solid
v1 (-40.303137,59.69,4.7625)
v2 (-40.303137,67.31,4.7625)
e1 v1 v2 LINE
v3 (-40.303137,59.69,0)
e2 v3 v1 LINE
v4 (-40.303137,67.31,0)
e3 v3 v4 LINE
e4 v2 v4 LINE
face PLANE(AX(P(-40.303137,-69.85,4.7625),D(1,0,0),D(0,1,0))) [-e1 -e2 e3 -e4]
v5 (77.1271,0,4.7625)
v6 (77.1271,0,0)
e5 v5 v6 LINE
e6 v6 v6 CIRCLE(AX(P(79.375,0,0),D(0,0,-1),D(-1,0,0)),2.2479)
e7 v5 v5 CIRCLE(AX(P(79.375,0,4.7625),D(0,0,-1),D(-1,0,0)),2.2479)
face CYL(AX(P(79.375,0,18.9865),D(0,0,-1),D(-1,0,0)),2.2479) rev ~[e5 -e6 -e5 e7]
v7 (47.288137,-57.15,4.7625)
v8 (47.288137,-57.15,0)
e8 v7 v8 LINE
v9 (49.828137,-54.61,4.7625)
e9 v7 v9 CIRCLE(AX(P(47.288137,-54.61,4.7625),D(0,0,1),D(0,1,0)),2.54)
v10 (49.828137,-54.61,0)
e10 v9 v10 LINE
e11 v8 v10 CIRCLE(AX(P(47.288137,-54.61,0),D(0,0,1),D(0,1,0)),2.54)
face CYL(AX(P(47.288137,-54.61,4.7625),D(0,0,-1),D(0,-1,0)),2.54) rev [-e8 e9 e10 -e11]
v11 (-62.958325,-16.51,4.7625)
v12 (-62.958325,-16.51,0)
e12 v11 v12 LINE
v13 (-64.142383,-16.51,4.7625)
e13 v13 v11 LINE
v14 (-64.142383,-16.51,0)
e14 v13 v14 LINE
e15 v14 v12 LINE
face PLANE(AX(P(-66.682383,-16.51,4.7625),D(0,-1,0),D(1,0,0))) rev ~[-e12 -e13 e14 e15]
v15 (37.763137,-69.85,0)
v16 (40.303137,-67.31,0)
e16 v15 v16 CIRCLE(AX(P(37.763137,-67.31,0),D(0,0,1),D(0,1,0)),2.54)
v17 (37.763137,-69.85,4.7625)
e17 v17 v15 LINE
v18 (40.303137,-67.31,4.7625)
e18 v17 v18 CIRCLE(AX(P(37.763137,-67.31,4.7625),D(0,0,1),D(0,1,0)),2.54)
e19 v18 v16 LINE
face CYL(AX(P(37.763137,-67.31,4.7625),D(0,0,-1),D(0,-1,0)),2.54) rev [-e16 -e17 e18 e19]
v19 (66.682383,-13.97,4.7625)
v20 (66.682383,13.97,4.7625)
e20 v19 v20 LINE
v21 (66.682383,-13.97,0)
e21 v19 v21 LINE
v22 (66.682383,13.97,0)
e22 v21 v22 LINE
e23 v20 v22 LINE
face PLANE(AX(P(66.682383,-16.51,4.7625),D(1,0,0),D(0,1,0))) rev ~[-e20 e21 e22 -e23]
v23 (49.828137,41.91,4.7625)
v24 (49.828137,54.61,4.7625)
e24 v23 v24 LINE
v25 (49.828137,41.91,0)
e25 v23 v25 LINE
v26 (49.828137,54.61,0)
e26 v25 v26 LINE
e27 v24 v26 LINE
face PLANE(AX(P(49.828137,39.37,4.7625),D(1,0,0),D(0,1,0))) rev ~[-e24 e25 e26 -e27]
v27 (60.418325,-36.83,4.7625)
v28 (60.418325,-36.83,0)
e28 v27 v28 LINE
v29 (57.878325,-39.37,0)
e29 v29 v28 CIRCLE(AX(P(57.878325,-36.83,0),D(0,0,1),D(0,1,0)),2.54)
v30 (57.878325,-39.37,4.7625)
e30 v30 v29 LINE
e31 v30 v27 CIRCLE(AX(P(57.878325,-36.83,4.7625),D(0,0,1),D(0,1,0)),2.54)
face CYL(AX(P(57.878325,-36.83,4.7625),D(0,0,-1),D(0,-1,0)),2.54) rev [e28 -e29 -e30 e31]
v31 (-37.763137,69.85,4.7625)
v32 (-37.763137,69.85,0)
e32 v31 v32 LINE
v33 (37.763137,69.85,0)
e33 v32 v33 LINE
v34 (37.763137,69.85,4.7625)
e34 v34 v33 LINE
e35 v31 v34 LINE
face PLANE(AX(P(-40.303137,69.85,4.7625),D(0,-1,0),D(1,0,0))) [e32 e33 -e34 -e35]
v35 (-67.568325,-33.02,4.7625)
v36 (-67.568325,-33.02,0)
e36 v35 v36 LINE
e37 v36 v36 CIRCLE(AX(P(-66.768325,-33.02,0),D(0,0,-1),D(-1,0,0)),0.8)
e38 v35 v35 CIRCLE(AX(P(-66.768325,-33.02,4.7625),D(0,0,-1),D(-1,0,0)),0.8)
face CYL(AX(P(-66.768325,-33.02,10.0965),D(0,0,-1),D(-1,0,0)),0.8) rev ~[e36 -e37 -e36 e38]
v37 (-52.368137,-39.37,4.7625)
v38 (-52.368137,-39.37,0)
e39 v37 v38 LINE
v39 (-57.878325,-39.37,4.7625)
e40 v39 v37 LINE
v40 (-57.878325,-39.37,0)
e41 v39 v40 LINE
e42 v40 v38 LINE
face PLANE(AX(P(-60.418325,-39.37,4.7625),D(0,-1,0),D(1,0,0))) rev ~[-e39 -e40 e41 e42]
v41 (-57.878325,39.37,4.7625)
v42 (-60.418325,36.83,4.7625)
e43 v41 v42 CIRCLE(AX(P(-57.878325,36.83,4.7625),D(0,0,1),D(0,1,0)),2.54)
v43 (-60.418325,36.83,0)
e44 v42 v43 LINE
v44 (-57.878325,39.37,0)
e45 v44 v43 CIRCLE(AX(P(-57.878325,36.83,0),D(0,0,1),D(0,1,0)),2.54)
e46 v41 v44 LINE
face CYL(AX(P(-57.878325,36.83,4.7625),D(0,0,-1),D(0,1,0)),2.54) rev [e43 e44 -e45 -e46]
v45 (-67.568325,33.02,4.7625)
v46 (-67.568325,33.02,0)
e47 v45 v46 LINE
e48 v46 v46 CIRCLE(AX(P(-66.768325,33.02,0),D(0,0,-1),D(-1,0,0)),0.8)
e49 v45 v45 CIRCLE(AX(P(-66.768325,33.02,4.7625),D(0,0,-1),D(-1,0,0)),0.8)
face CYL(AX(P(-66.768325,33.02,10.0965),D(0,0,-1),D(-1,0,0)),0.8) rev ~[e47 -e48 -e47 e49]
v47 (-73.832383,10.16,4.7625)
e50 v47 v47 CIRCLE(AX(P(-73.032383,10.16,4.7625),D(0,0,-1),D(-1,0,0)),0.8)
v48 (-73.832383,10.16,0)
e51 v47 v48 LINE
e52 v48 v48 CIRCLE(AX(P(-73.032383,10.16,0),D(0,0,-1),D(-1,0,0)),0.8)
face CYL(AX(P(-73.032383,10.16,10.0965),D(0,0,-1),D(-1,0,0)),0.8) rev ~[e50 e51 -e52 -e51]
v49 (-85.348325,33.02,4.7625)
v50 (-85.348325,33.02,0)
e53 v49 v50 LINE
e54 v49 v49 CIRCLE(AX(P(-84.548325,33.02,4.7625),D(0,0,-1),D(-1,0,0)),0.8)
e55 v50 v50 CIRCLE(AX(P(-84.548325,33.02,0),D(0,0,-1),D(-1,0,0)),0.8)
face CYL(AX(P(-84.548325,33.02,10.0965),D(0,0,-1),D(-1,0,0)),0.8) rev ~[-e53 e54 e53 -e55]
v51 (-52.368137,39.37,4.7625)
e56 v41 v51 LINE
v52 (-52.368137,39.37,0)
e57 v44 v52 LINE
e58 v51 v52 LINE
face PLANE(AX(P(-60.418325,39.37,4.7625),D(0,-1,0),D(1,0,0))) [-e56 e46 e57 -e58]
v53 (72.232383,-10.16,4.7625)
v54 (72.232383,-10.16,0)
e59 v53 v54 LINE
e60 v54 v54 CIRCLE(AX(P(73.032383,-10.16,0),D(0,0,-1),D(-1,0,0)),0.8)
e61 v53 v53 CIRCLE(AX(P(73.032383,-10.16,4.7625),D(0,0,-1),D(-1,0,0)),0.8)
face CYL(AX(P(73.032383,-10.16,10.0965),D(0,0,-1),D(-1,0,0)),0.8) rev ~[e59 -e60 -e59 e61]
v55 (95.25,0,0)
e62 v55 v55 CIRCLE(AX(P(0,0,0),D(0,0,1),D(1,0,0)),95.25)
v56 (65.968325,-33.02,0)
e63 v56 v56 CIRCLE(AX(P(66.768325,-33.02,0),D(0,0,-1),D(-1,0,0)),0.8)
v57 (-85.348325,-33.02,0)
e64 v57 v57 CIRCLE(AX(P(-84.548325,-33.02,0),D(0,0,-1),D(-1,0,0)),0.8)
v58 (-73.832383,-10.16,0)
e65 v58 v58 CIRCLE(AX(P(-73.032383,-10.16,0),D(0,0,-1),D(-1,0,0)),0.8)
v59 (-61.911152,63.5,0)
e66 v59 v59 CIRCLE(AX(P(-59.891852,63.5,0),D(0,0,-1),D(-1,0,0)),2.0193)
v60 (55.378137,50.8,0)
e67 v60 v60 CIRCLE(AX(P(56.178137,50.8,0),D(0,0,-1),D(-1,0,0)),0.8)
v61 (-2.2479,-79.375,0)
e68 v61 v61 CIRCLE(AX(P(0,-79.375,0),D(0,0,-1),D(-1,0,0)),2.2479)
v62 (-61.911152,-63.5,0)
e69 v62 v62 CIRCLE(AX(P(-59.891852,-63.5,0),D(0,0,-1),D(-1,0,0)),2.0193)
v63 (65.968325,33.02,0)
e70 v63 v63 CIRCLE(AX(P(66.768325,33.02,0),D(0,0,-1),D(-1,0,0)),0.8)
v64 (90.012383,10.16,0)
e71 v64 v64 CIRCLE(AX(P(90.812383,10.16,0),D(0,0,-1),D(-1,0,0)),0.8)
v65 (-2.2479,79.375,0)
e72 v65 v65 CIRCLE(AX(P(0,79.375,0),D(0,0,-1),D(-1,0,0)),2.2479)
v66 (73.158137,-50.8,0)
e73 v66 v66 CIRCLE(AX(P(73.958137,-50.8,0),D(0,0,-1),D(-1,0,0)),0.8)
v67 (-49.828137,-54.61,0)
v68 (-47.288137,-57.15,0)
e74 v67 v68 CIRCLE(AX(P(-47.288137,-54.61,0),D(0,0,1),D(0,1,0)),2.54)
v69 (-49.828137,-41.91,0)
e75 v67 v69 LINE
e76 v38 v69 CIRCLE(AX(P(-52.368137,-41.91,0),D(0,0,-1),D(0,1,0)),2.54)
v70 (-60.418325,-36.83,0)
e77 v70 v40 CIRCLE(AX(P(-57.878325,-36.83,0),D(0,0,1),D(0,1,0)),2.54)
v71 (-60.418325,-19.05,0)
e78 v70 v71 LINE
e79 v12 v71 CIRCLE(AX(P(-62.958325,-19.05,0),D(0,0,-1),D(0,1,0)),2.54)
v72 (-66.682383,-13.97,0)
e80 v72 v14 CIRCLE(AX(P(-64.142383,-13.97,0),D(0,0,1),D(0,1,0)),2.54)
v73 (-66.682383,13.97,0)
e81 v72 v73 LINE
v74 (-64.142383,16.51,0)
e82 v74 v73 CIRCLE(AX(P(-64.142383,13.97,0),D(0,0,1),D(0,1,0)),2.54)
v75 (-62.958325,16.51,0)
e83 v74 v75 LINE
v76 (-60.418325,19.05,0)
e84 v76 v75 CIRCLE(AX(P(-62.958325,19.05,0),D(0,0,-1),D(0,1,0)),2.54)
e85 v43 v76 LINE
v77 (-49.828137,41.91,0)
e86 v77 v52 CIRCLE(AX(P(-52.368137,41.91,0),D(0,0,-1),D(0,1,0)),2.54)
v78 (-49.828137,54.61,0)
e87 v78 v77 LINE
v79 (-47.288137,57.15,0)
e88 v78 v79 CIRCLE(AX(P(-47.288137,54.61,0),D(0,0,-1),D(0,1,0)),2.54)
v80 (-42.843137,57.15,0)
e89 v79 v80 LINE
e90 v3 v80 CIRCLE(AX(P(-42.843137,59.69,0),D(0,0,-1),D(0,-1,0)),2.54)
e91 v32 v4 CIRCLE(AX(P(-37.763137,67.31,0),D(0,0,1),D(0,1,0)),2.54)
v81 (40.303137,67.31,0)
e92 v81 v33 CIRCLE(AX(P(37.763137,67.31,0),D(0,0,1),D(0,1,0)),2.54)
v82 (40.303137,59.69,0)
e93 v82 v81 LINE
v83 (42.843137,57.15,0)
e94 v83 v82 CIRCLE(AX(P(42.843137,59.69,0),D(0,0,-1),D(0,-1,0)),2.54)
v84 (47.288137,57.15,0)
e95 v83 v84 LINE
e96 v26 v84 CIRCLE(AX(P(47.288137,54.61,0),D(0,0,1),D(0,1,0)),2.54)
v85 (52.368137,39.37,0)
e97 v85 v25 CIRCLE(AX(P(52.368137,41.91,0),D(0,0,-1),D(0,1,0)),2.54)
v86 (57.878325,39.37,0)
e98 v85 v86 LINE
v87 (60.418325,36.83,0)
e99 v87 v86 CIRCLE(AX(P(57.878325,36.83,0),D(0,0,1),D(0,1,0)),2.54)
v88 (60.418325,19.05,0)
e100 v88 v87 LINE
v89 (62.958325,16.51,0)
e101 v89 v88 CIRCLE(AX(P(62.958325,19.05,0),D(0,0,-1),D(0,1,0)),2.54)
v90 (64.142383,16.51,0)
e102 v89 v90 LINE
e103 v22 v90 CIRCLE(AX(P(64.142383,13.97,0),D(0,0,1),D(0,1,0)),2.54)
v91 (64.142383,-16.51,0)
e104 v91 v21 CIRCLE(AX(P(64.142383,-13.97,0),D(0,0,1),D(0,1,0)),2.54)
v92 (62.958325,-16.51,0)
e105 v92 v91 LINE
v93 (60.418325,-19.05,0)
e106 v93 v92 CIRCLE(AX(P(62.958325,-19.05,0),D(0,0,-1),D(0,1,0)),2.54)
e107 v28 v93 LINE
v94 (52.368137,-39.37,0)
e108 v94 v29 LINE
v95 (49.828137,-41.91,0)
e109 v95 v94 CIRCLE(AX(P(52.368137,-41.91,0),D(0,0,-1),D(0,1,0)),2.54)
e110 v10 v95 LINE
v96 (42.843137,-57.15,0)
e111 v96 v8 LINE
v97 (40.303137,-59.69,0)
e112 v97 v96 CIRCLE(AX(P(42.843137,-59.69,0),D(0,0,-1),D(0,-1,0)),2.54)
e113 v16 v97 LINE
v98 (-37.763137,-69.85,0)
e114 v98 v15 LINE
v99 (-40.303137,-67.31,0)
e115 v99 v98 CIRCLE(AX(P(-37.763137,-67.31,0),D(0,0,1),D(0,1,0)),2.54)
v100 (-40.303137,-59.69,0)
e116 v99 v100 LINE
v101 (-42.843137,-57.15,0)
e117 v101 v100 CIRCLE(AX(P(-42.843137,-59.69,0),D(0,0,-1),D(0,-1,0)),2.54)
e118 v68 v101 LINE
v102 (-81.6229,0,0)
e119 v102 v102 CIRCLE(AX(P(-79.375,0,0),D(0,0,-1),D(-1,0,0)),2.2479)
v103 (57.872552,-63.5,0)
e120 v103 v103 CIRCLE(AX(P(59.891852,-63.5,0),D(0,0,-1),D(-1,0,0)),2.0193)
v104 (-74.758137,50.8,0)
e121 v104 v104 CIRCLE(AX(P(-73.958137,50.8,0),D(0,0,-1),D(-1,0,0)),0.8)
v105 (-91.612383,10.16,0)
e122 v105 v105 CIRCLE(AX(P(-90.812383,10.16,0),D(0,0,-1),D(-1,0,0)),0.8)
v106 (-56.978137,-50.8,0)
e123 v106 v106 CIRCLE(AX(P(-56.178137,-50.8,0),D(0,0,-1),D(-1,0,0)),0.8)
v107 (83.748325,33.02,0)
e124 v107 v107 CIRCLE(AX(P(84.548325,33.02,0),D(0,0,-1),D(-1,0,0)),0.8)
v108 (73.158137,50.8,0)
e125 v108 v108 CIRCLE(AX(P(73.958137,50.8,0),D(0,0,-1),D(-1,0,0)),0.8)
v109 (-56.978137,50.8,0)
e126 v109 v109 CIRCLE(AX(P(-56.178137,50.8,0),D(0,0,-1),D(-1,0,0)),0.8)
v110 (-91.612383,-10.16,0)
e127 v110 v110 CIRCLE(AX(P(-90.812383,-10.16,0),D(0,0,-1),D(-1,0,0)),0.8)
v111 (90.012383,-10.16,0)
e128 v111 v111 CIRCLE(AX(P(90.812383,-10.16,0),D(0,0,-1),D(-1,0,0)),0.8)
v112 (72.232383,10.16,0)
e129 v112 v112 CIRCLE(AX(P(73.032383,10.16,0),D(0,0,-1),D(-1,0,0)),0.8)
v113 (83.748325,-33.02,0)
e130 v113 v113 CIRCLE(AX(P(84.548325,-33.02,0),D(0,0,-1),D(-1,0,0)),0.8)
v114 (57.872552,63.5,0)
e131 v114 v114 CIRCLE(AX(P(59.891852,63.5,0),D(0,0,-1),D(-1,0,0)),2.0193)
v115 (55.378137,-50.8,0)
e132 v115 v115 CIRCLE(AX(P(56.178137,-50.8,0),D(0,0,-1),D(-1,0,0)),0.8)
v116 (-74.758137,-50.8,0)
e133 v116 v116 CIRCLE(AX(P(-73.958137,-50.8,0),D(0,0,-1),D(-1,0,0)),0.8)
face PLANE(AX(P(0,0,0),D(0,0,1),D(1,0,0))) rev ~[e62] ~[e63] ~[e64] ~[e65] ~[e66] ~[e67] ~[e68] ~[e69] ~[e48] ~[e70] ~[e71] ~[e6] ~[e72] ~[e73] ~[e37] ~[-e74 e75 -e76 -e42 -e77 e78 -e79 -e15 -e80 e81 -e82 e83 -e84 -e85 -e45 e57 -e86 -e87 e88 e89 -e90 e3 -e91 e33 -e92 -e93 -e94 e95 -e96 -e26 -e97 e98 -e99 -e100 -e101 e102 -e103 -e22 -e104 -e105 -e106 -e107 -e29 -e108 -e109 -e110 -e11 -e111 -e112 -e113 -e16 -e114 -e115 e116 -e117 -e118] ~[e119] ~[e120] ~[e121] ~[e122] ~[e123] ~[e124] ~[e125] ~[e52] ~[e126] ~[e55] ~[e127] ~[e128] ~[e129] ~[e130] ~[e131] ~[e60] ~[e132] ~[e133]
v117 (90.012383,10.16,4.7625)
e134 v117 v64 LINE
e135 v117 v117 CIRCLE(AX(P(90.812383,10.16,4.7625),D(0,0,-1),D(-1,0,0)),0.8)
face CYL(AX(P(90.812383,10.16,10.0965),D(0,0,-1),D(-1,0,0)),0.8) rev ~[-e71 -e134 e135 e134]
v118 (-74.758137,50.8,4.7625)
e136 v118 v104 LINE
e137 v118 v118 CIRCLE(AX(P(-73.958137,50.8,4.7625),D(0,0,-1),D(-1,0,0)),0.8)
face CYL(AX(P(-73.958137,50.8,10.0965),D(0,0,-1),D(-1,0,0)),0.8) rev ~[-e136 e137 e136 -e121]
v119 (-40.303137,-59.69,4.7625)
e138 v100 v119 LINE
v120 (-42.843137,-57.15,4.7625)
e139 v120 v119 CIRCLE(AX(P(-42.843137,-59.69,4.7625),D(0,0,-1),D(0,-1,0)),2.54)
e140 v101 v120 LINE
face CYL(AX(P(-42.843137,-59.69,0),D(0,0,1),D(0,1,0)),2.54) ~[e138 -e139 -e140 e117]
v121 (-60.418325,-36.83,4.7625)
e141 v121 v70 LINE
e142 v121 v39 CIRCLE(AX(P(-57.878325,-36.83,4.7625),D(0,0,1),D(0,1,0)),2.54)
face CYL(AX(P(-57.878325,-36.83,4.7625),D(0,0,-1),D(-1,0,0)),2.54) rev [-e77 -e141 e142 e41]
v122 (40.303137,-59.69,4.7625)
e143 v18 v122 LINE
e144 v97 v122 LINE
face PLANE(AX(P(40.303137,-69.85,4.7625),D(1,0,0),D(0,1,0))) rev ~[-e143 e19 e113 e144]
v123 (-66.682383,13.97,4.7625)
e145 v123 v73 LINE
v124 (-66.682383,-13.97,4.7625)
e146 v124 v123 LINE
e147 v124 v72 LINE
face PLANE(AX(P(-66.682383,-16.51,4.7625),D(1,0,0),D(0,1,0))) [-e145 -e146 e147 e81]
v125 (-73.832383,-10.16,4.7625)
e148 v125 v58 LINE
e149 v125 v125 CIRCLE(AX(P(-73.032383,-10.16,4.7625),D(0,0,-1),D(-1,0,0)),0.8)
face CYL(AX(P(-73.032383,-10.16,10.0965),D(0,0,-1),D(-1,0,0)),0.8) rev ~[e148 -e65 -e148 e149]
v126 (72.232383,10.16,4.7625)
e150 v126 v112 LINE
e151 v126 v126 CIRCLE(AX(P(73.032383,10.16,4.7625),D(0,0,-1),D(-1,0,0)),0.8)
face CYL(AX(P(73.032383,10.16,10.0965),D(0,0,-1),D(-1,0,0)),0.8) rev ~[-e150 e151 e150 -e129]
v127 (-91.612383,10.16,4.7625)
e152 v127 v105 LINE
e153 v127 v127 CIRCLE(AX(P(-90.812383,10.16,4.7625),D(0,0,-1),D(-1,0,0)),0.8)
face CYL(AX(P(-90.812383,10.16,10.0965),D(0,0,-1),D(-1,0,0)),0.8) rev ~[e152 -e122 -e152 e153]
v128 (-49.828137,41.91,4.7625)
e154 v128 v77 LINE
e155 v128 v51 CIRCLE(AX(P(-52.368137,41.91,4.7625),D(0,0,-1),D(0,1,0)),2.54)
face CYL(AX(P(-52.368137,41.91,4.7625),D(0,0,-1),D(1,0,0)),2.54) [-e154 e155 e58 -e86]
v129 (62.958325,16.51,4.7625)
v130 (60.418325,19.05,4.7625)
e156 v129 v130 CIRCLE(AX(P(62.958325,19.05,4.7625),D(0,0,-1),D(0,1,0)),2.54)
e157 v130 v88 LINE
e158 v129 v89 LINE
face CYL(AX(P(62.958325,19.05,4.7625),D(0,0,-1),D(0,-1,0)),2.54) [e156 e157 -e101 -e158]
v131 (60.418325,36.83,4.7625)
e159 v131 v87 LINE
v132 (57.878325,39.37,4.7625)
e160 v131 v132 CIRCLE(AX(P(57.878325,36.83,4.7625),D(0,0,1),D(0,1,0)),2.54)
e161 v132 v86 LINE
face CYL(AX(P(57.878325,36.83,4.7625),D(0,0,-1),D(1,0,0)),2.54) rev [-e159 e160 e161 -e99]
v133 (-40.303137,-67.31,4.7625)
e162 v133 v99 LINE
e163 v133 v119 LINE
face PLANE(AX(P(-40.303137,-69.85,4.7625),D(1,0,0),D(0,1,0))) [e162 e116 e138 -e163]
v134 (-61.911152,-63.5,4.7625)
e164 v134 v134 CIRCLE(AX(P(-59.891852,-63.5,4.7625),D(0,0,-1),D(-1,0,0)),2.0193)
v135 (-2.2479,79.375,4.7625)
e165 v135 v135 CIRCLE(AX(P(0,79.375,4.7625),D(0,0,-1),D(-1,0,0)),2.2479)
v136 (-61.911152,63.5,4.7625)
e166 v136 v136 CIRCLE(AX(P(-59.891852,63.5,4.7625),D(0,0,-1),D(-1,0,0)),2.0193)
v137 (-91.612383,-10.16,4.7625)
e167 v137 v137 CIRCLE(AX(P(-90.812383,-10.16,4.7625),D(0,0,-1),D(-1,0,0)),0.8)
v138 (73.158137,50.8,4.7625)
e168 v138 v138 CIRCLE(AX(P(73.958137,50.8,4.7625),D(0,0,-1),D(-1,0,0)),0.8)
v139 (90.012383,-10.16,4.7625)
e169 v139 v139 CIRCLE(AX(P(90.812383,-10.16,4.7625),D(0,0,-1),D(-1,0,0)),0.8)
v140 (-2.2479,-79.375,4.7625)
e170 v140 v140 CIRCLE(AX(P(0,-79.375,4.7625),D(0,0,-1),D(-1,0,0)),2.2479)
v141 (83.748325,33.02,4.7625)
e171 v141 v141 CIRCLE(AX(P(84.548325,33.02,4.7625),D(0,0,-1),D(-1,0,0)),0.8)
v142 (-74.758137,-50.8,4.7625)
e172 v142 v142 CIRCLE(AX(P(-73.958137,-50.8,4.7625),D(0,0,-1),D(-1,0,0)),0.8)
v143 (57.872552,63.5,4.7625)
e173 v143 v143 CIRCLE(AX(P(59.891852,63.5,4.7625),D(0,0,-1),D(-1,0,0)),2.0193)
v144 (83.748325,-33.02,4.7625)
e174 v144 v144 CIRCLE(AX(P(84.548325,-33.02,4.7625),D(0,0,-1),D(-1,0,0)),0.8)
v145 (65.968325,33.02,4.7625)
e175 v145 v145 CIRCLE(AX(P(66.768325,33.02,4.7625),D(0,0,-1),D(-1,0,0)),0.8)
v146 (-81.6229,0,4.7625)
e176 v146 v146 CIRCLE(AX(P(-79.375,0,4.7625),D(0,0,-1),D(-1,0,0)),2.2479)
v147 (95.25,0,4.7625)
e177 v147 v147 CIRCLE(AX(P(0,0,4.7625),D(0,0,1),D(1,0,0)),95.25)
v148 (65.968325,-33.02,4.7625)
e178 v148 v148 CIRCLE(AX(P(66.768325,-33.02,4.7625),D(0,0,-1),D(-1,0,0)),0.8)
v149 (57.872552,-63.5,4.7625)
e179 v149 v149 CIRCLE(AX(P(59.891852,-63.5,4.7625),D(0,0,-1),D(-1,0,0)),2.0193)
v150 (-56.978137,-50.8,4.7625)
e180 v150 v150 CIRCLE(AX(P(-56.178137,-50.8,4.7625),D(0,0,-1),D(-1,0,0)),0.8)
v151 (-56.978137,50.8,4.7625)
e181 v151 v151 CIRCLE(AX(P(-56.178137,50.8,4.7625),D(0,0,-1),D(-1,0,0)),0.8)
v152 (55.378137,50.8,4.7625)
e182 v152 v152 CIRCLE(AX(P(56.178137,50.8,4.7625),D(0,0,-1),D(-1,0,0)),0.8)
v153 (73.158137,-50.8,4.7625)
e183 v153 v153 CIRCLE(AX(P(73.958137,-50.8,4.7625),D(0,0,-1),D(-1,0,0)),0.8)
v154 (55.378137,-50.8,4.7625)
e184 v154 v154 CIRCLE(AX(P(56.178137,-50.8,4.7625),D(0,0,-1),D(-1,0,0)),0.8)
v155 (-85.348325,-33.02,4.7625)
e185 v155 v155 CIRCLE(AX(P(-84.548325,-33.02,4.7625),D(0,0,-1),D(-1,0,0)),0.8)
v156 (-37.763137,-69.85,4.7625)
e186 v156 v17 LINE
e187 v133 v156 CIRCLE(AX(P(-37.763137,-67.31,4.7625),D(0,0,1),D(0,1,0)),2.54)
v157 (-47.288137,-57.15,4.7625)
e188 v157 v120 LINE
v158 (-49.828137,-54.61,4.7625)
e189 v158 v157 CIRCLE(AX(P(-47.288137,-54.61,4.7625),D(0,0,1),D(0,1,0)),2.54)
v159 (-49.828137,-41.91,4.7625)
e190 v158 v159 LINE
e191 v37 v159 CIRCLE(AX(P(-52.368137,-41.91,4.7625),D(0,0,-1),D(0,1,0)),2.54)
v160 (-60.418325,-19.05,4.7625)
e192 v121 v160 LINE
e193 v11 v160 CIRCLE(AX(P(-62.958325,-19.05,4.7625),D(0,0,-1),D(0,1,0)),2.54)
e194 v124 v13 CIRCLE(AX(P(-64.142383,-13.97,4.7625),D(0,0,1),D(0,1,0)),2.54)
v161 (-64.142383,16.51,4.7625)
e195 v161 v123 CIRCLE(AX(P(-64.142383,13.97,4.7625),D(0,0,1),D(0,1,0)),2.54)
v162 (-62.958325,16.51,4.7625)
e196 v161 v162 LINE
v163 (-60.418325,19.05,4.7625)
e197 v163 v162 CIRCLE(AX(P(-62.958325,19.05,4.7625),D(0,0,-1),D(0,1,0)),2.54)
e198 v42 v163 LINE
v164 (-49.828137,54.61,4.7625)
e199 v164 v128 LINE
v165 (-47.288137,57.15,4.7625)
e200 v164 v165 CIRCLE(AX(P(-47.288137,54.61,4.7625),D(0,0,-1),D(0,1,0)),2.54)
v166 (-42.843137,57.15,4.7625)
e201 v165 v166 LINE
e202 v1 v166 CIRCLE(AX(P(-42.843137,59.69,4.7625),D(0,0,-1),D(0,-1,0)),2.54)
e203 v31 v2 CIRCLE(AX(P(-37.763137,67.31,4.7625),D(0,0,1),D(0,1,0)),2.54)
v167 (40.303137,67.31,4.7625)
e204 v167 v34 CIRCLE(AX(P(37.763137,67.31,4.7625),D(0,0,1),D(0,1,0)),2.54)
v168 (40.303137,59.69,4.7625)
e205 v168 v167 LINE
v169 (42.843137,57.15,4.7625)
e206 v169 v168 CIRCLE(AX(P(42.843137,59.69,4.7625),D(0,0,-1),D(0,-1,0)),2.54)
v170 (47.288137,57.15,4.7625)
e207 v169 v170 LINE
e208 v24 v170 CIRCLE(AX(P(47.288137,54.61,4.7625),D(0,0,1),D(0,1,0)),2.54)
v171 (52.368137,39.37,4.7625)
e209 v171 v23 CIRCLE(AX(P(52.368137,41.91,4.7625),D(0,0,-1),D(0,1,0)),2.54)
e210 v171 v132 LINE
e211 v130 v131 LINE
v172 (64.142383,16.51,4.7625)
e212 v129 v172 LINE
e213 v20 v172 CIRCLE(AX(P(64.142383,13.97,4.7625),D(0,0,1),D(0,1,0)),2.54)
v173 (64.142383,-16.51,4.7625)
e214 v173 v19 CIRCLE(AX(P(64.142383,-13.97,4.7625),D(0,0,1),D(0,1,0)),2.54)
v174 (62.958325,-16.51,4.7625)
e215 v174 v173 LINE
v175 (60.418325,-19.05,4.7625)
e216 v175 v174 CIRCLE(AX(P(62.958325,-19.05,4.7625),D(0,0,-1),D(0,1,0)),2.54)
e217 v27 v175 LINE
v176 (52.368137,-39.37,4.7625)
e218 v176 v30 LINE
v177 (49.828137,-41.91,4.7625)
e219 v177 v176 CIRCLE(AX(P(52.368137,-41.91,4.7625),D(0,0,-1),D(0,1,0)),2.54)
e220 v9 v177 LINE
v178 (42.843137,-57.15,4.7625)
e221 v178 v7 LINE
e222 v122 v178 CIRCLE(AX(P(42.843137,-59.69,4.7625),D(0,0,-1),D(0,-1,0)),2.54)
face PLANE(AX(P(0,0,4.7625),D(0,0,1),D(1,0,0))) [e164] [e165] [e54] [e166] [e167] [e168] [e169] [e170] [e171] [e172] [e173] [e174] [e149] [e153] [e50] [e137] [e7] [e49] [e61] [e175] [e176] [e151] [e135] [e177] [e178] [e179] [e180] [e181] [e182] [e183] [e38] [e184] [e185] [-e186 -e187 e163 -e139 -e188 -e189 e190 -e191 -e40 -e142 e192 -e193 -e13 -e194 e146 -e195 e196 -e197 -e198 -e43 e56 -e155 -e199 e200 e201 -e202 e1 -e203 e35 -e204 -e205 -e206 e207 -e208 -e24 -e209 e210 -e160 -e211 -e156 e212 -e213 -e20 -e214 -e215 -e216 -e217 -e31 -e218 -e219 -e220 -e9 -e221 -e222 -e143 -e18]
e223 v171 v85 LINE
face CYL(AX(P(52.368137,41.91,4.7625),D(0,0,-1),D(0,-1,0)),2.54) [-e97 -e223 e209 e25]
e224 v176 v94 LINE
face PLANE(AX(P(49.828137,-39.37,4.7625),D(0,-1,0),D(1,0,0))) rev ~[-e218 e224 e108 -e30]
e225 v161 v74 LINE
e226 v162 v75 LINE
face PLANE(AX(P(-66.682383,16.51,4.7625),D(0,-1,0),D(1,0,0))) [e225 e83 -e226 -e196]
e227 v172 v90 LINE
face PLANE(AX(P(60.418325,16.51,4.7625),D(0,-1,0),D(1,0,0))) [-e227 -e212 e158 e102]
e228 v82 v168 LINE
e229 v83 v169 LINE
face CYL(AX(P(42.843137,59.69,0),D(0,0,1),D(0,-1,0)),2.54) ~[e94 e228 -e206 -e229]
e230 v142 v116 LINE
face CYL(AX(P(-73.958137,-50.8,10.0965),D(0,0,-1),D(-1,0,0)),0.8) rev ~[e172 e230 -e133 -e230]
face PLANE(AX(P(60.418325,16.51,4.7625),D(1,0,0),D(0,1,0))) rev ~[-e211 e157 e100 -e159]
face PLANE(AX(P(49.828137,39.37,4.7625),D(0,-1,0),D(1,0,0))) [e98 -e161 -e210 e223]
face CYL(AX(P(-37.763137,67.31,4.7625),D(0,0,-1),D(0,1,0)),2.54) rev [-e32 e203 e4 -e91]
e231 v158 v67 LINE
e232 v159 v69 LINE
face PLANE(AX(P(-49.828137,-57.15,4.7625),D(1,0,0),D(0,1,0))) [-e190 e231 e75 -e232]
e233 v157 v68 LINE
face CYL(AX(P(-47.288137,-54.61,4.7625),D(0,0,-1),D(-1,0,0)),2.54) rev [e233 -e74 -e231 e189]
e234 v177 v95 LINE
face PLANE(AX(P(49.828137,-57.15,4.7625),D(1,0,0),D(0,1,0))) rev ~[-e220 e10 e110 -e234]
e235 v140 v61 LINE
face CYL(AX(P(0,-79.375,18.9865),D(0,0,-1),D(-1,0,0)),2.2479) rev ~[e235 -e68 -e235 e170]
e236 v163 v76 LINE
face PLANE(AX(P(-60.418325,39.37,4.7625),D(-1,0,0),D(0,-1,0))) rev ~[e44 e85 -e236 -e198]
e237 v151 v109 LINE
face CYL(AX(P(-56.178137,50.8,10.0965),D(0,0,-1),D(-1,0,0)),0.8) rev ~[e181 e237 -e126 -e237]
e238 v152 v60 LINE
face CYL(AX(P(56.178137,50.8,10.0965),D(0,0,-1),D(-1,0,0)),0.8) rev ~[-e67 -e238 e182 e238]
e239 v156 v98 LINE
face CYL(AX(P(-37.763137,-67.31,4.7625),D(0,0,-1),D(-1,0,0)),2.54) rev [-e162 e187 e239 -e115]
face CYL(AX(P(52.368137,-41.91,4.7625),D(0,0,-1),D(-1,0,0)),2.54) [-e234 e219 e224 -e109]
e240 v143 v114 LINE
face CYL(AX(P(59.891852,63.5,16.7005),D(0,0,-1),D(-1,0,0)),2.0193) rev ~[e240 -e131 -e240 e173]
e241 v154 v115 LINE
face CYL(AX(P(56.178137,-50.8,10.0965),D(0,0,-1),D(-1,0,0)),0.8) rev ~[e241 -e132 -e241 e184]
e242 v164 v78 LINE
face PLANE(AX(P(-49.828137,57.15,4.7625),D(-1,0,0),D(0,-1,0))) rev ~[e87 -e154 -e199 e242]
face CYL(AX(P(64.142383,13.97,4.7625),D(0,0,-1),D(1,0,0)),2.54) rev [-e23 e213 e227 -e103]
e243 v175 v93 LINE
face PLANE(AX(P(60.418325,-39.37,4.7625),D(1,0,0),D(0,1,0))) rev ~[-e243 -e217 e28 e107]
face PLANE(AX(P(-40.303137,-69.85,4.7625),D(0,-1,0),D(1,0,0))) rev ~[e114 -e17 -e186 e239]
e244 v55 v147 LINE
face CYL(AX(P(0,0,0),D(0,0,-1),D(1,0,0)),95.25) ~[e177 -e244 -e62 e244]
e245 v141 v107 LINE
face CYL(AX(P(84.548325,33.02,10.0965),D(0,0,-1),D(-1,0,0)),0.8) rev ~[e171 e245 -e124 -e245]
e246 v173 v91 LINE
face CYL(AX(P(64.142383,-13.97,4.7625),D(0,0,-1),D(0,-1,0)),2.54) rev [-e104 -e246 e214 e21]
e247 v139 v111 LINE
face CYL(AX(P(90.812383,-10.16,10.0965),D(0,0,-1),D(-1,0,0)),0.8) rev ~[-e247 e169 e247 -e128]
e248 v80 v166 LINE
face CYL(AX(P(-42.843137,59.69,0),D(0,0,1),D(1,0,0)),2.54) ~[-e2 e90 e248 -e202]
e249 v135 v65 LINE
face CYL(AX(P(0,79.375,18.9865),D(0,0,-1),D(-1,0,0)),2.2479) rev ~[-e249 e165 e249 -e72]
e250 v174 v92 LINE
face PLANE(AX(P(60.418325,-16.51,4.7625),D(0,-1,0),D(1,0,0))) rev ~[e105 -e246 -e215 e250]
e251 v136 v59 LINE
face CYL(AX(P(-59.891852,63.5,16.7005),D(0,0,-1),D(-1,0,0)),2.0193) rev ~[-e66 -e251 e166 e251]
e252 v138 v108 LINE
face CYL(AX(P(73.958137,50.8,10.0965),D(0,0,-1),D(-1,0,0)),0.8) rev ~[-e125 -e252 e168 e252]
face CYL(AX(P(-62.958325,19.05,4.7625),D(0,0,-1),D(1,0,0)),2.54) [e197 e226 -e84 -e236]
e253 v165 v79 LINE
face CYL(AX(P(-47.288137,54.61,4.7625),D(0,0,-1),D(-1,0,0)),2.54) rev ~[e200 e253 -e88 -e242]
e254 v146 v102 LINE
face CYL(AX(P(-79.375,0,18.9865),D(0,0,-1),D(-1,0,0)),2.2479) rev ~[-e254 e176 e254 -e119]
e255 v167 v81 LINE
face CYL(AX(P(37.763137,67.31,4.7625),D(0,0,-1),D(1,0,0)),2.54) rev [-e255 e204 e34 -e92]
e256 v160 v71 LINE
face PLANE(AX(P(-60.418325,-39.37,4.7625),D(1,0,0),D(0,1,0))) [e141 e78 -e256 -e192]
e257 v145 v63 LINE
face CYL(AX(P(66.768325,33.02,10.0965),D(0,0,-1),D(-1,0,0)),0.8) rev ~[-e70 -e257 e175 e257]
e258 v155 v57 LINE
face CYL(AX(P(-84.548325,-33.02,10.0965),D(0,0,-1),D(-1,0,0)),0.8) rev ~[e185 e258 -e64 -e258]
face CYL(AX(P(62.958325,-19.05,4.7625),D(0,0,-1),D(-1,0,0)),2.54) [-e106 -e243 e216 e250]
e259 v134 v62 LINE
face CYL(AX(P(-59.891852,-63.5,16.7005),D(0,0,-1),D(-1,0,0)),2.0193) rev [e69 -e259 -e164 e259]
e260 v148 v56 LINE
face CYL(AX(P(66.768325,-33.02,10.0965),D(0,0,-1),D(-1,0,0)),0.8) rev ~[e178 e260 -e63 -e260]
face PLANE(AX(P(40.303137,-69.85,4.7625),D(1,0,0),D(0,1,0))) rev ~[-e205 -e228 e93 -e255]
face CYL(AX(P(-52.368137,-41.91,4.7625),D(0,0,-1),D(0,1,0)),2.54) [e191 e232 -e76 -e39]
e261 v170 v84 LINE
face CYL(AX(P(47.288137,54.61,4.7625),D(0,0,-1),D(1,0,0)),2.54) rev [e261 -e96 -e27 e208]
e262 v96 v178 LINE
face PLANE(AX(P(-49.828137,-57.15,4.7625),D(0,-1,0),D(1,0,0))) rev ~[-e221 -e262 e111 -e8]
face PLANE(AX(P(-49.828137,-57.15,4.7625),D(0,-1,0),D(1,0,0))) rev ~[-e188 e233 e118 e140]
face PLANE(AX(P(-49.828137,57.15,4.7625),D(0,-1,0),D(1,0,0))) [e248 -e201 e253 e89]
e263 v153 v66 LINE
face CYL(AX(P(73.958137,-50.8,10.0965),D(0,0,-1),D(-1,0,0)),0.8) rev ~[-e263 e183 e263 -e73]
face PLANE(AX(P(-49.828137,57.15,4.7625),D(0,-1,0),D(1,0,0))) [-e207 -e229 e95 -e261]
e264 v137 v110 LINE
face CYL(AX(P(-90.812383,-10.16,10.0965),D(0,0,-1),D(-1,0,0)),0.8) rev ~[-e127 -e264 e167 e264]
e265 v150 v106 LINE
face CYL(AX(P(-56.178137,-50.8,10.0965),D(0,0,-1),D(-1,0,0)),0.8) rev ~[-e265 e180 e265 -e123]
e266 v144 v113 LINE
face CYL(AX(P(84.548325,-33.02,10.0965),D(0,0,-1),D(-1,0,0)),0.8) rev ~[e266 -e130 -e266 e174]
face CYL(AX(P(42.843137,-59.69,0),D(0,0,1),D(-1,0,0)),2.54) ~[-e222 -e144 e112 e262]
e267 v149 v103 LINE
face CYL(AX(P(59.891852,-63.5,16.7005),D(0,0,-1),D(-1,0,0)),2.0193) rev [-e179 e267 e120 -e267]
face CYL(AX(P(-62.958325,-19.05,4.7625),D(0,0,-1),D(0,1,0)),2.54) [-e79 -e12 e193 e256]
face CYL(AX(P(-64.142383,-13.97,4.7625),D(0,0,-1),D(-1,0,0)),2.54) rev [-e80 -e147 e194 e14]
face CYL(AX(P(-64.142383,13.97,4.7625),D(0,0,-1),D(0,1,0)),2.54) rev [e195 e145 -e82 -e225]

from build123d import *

# Parameters (mm, degrees)
SKETCH1_R                  = 95.25
BOSS_EXTRUDE1_DEPTH        = 4.7625
M2X0_4_TAPPED_HOLE1_D      = 1.6
M2X0_4_TAPPED_HOLE1_DEPTH  = 5.334
F_12_24_TAPPED_HOLE1_D     = 4.4958
F_12_24_TAPPED_HOLE1_DEPTH = 14.224
F_10_32_TAPPED_HOLE1_D     = 4.0386
F_10_32_TAPPED_HOLE1_DEPTH = 11.938
SKETCH11_W                 = 99.656274728
SKETCH11_H                 = 17.78
SKETCH11_H_2               = 22.86
SKETCH11_W_2               = 10.59018736
SKETCH11_H_3               = 33.02
SKETCH11_W_3               = 6.264058664
CUT_EXTRUDE2_DEPTH         = 5.7625
SKETCH12_W                 = 80.606274728
SKETCH12_H                 = 139.7
CUT_EXTRUDE3_DEPTH         = 5.7625
FILLET1_R                  = 2.54


with BuildPart() as part:
    # Sketch1 → Boss-Extrude1 (new body)
    with BuildSketch(Plane.XY):
        Circle(SKETCH1_R)
    extrude(amount=BOSS_EXTRUDE1_DEPTH)

    # M2x0.4 Tapped Hole1
    with Locations(Plane.XY.offset(4.7625)):
        with Locations((-84.548324724, 33.02), (-66.768324724, 33.02), (-73.958137364, 50.8), (-56.178137364, 50.8), (-90.812383388, 10.16), (-73.032383388, 10.16), (-56.178137364, -50.8), (-73.958137364, -50.8), (-66.768324724, -33.02), (-84.548324724, -33.02), (-73.032383388, -10.16), (-90.812383388, -10.16), (56.178137364, -50.8), (73.958137364, -50.8), (66.768324724, -33.02), (84.548324724, -33.02), (90.812383388, -10.16), (73.032383388, -10.16), (90.812383388, 10.16), (73.032383388, 10.16), (84.548324724, 33.02), (66.768324724, 33.02), (56.178137364, 50.8), (73.958137364, 50.8)):
            Hole(M2X0_4_TAPPED_HOLE1_D / 2, depth=M2X0_4_TAPPED_HOLE1_DEPTH)

    # #12-24 Tapped Hole1
    with Locations(Plane.XY.offset(4.7625)):
        with Locations((-79.375, 0), (0, 79.375), (79.375, 0), (0, -79.375)):
            Hole(F_12_24_TAPPED_HOLE1_D / 2, depth=F_12_24_TAPPED_HOLE1_DEPTH)

    # #10-32 Tapped Hole1
    with Locations(Plane.XY.offset(4.7625)):
        with Locations((-59.89185243, 63.5), (59.89185243, 63.5)):
            f_10_32_tapped_hole1 = Hole(F_10_32_TAPPED_HOLE1_D / 2, depth=F_10_32_TAPPED_HOLE1_DEPTH)

    # Mirror1: #10-32 Tapped Hole1 across plane
    add(f_10_32_tapped_hole1.mirror(Plane.ZX), mode=Mode.SUBTRACT)

    # Sketch11 → Cut-Extrude2 (cut, through all)
    with BuildSketch(Plane.XY.offset(4.7625)):
        with Locations((0, 48.26)):
            Rectangle(SKETCH11_W, SKETCH11_H)
        with Locations((0, 27.94)):
            Rectangle(SKETCH11_W, SKETCH11_H_2)
        with Locations((-55.123231044, 27.94)):
            Rectangle(SKETCH11_W_2, SKETCH11_H_2)
        with Locations((55.123231044, 27.94)):
            Rectangle(SKETCH11_W_2, SKETCH11_H_2)
        with Locations((55.123231044, 0)):
            Rectangle(SKETCH11_W_2, SKETCH11_H_3)
        with Locations((63.550354056, 0)):
            Rectangle(SKETCH11_W_3, SKETCH11_H_3)
        Rectangle(SKETCH11_W, SKETCH11_H_3)
        with Locations((-55.123231044, 0)):
            Rectangle(SKETCH11_W_2, SKETCH11_H_3)
        with Locations((-63.550354056, 0)):
            Rectangle(SKETCH11_W_3, SKETCH11_H_3)
        with Locations((-55.123231044, -27.94)):
            Rectangle(SKETCH11_W_2, SKETCH11_H_2)
        with Locations((0, -27.94)):
            Rectangle(SKETCH11_W, SKETCH11_H_2)
        with Locations((55.123231044, -27.94)):
            Rectangle(SKETCH11_W_2, SKETCH11_H_2)
        with Locations((0, -48.26)):
            Rectangle(SKETCH11_W, SKETCH11_H)
    extrude(amount=-CUT_EXTRUDE2_DEPTH, mode=Mode.SUBTRACT)

    # Sketch12 → Cut-Extrude3 (cut, through all)
    with BuildSketch(Plane.XY.offset(4.7625)):
        Rectangle(SKETCH12_W, SKETCH12_H)
    extrude(amount=-CUT_EXTRUDE3_DEPTH, mode=Mode.SUBTRACT)

    # Fillet1
    fillet1_edges = [part.edges().sort_by_distance(p)[0] for p in [
        (-49.828137364, 39.37, 2.38125),
        (-49.828137364, 57.15, 2.38125),
        (49.828137364, 57.15, 2.38125),
        (49.828137364, 39.37, 2.38125),
        (60.418324724, 39.37, 2.38125),
        (60.418324724, 16.51, 2.38125),
        (66.682383388, 16.51, 2.38125),
        (66.682383388, -16.51, 2.38125),
        (60.418324724, -16.51, 2.38125),
        (60.418324724, -39.37, 2.38125),
        (49.828137364, -39.37, 2.38125),
        (49.828137364, -57.15, 2.38125),
        (-49.828137364, -57.15, 2.38125),
        (-49.828137364, -39.37, 2.38125),
        (-60.418324724, -39.37, 2.38125),
        (-60.418324724, -16.51, 2.38125),
        (-66.682383388, -16.51, 2.38125),
        (-66.682383388, 16.51, 2.38125),
        (-60.418324724, 16.51, 2.38125),
        (-60.418324724, 39.37, 2.38125),
        (40.303137364, -57.15, 2.38125),
        (-40.303137364, -57.15, 2.38125),
        (-40.303137364, 57.15, 2.38125),
        (40.303137364, 57.15, 2.38125),
        (40.303137364, 69.85, 2.38125),
        (-40.303137364, -69.85, 2.38125),
        (-40.303137364, 69.85, 2.38125),
        (40.303137364, -69.85, 2.38125),
    ]]
    fillet(fillet1_edges, radius=FILLET1_R)


solid = part.part
